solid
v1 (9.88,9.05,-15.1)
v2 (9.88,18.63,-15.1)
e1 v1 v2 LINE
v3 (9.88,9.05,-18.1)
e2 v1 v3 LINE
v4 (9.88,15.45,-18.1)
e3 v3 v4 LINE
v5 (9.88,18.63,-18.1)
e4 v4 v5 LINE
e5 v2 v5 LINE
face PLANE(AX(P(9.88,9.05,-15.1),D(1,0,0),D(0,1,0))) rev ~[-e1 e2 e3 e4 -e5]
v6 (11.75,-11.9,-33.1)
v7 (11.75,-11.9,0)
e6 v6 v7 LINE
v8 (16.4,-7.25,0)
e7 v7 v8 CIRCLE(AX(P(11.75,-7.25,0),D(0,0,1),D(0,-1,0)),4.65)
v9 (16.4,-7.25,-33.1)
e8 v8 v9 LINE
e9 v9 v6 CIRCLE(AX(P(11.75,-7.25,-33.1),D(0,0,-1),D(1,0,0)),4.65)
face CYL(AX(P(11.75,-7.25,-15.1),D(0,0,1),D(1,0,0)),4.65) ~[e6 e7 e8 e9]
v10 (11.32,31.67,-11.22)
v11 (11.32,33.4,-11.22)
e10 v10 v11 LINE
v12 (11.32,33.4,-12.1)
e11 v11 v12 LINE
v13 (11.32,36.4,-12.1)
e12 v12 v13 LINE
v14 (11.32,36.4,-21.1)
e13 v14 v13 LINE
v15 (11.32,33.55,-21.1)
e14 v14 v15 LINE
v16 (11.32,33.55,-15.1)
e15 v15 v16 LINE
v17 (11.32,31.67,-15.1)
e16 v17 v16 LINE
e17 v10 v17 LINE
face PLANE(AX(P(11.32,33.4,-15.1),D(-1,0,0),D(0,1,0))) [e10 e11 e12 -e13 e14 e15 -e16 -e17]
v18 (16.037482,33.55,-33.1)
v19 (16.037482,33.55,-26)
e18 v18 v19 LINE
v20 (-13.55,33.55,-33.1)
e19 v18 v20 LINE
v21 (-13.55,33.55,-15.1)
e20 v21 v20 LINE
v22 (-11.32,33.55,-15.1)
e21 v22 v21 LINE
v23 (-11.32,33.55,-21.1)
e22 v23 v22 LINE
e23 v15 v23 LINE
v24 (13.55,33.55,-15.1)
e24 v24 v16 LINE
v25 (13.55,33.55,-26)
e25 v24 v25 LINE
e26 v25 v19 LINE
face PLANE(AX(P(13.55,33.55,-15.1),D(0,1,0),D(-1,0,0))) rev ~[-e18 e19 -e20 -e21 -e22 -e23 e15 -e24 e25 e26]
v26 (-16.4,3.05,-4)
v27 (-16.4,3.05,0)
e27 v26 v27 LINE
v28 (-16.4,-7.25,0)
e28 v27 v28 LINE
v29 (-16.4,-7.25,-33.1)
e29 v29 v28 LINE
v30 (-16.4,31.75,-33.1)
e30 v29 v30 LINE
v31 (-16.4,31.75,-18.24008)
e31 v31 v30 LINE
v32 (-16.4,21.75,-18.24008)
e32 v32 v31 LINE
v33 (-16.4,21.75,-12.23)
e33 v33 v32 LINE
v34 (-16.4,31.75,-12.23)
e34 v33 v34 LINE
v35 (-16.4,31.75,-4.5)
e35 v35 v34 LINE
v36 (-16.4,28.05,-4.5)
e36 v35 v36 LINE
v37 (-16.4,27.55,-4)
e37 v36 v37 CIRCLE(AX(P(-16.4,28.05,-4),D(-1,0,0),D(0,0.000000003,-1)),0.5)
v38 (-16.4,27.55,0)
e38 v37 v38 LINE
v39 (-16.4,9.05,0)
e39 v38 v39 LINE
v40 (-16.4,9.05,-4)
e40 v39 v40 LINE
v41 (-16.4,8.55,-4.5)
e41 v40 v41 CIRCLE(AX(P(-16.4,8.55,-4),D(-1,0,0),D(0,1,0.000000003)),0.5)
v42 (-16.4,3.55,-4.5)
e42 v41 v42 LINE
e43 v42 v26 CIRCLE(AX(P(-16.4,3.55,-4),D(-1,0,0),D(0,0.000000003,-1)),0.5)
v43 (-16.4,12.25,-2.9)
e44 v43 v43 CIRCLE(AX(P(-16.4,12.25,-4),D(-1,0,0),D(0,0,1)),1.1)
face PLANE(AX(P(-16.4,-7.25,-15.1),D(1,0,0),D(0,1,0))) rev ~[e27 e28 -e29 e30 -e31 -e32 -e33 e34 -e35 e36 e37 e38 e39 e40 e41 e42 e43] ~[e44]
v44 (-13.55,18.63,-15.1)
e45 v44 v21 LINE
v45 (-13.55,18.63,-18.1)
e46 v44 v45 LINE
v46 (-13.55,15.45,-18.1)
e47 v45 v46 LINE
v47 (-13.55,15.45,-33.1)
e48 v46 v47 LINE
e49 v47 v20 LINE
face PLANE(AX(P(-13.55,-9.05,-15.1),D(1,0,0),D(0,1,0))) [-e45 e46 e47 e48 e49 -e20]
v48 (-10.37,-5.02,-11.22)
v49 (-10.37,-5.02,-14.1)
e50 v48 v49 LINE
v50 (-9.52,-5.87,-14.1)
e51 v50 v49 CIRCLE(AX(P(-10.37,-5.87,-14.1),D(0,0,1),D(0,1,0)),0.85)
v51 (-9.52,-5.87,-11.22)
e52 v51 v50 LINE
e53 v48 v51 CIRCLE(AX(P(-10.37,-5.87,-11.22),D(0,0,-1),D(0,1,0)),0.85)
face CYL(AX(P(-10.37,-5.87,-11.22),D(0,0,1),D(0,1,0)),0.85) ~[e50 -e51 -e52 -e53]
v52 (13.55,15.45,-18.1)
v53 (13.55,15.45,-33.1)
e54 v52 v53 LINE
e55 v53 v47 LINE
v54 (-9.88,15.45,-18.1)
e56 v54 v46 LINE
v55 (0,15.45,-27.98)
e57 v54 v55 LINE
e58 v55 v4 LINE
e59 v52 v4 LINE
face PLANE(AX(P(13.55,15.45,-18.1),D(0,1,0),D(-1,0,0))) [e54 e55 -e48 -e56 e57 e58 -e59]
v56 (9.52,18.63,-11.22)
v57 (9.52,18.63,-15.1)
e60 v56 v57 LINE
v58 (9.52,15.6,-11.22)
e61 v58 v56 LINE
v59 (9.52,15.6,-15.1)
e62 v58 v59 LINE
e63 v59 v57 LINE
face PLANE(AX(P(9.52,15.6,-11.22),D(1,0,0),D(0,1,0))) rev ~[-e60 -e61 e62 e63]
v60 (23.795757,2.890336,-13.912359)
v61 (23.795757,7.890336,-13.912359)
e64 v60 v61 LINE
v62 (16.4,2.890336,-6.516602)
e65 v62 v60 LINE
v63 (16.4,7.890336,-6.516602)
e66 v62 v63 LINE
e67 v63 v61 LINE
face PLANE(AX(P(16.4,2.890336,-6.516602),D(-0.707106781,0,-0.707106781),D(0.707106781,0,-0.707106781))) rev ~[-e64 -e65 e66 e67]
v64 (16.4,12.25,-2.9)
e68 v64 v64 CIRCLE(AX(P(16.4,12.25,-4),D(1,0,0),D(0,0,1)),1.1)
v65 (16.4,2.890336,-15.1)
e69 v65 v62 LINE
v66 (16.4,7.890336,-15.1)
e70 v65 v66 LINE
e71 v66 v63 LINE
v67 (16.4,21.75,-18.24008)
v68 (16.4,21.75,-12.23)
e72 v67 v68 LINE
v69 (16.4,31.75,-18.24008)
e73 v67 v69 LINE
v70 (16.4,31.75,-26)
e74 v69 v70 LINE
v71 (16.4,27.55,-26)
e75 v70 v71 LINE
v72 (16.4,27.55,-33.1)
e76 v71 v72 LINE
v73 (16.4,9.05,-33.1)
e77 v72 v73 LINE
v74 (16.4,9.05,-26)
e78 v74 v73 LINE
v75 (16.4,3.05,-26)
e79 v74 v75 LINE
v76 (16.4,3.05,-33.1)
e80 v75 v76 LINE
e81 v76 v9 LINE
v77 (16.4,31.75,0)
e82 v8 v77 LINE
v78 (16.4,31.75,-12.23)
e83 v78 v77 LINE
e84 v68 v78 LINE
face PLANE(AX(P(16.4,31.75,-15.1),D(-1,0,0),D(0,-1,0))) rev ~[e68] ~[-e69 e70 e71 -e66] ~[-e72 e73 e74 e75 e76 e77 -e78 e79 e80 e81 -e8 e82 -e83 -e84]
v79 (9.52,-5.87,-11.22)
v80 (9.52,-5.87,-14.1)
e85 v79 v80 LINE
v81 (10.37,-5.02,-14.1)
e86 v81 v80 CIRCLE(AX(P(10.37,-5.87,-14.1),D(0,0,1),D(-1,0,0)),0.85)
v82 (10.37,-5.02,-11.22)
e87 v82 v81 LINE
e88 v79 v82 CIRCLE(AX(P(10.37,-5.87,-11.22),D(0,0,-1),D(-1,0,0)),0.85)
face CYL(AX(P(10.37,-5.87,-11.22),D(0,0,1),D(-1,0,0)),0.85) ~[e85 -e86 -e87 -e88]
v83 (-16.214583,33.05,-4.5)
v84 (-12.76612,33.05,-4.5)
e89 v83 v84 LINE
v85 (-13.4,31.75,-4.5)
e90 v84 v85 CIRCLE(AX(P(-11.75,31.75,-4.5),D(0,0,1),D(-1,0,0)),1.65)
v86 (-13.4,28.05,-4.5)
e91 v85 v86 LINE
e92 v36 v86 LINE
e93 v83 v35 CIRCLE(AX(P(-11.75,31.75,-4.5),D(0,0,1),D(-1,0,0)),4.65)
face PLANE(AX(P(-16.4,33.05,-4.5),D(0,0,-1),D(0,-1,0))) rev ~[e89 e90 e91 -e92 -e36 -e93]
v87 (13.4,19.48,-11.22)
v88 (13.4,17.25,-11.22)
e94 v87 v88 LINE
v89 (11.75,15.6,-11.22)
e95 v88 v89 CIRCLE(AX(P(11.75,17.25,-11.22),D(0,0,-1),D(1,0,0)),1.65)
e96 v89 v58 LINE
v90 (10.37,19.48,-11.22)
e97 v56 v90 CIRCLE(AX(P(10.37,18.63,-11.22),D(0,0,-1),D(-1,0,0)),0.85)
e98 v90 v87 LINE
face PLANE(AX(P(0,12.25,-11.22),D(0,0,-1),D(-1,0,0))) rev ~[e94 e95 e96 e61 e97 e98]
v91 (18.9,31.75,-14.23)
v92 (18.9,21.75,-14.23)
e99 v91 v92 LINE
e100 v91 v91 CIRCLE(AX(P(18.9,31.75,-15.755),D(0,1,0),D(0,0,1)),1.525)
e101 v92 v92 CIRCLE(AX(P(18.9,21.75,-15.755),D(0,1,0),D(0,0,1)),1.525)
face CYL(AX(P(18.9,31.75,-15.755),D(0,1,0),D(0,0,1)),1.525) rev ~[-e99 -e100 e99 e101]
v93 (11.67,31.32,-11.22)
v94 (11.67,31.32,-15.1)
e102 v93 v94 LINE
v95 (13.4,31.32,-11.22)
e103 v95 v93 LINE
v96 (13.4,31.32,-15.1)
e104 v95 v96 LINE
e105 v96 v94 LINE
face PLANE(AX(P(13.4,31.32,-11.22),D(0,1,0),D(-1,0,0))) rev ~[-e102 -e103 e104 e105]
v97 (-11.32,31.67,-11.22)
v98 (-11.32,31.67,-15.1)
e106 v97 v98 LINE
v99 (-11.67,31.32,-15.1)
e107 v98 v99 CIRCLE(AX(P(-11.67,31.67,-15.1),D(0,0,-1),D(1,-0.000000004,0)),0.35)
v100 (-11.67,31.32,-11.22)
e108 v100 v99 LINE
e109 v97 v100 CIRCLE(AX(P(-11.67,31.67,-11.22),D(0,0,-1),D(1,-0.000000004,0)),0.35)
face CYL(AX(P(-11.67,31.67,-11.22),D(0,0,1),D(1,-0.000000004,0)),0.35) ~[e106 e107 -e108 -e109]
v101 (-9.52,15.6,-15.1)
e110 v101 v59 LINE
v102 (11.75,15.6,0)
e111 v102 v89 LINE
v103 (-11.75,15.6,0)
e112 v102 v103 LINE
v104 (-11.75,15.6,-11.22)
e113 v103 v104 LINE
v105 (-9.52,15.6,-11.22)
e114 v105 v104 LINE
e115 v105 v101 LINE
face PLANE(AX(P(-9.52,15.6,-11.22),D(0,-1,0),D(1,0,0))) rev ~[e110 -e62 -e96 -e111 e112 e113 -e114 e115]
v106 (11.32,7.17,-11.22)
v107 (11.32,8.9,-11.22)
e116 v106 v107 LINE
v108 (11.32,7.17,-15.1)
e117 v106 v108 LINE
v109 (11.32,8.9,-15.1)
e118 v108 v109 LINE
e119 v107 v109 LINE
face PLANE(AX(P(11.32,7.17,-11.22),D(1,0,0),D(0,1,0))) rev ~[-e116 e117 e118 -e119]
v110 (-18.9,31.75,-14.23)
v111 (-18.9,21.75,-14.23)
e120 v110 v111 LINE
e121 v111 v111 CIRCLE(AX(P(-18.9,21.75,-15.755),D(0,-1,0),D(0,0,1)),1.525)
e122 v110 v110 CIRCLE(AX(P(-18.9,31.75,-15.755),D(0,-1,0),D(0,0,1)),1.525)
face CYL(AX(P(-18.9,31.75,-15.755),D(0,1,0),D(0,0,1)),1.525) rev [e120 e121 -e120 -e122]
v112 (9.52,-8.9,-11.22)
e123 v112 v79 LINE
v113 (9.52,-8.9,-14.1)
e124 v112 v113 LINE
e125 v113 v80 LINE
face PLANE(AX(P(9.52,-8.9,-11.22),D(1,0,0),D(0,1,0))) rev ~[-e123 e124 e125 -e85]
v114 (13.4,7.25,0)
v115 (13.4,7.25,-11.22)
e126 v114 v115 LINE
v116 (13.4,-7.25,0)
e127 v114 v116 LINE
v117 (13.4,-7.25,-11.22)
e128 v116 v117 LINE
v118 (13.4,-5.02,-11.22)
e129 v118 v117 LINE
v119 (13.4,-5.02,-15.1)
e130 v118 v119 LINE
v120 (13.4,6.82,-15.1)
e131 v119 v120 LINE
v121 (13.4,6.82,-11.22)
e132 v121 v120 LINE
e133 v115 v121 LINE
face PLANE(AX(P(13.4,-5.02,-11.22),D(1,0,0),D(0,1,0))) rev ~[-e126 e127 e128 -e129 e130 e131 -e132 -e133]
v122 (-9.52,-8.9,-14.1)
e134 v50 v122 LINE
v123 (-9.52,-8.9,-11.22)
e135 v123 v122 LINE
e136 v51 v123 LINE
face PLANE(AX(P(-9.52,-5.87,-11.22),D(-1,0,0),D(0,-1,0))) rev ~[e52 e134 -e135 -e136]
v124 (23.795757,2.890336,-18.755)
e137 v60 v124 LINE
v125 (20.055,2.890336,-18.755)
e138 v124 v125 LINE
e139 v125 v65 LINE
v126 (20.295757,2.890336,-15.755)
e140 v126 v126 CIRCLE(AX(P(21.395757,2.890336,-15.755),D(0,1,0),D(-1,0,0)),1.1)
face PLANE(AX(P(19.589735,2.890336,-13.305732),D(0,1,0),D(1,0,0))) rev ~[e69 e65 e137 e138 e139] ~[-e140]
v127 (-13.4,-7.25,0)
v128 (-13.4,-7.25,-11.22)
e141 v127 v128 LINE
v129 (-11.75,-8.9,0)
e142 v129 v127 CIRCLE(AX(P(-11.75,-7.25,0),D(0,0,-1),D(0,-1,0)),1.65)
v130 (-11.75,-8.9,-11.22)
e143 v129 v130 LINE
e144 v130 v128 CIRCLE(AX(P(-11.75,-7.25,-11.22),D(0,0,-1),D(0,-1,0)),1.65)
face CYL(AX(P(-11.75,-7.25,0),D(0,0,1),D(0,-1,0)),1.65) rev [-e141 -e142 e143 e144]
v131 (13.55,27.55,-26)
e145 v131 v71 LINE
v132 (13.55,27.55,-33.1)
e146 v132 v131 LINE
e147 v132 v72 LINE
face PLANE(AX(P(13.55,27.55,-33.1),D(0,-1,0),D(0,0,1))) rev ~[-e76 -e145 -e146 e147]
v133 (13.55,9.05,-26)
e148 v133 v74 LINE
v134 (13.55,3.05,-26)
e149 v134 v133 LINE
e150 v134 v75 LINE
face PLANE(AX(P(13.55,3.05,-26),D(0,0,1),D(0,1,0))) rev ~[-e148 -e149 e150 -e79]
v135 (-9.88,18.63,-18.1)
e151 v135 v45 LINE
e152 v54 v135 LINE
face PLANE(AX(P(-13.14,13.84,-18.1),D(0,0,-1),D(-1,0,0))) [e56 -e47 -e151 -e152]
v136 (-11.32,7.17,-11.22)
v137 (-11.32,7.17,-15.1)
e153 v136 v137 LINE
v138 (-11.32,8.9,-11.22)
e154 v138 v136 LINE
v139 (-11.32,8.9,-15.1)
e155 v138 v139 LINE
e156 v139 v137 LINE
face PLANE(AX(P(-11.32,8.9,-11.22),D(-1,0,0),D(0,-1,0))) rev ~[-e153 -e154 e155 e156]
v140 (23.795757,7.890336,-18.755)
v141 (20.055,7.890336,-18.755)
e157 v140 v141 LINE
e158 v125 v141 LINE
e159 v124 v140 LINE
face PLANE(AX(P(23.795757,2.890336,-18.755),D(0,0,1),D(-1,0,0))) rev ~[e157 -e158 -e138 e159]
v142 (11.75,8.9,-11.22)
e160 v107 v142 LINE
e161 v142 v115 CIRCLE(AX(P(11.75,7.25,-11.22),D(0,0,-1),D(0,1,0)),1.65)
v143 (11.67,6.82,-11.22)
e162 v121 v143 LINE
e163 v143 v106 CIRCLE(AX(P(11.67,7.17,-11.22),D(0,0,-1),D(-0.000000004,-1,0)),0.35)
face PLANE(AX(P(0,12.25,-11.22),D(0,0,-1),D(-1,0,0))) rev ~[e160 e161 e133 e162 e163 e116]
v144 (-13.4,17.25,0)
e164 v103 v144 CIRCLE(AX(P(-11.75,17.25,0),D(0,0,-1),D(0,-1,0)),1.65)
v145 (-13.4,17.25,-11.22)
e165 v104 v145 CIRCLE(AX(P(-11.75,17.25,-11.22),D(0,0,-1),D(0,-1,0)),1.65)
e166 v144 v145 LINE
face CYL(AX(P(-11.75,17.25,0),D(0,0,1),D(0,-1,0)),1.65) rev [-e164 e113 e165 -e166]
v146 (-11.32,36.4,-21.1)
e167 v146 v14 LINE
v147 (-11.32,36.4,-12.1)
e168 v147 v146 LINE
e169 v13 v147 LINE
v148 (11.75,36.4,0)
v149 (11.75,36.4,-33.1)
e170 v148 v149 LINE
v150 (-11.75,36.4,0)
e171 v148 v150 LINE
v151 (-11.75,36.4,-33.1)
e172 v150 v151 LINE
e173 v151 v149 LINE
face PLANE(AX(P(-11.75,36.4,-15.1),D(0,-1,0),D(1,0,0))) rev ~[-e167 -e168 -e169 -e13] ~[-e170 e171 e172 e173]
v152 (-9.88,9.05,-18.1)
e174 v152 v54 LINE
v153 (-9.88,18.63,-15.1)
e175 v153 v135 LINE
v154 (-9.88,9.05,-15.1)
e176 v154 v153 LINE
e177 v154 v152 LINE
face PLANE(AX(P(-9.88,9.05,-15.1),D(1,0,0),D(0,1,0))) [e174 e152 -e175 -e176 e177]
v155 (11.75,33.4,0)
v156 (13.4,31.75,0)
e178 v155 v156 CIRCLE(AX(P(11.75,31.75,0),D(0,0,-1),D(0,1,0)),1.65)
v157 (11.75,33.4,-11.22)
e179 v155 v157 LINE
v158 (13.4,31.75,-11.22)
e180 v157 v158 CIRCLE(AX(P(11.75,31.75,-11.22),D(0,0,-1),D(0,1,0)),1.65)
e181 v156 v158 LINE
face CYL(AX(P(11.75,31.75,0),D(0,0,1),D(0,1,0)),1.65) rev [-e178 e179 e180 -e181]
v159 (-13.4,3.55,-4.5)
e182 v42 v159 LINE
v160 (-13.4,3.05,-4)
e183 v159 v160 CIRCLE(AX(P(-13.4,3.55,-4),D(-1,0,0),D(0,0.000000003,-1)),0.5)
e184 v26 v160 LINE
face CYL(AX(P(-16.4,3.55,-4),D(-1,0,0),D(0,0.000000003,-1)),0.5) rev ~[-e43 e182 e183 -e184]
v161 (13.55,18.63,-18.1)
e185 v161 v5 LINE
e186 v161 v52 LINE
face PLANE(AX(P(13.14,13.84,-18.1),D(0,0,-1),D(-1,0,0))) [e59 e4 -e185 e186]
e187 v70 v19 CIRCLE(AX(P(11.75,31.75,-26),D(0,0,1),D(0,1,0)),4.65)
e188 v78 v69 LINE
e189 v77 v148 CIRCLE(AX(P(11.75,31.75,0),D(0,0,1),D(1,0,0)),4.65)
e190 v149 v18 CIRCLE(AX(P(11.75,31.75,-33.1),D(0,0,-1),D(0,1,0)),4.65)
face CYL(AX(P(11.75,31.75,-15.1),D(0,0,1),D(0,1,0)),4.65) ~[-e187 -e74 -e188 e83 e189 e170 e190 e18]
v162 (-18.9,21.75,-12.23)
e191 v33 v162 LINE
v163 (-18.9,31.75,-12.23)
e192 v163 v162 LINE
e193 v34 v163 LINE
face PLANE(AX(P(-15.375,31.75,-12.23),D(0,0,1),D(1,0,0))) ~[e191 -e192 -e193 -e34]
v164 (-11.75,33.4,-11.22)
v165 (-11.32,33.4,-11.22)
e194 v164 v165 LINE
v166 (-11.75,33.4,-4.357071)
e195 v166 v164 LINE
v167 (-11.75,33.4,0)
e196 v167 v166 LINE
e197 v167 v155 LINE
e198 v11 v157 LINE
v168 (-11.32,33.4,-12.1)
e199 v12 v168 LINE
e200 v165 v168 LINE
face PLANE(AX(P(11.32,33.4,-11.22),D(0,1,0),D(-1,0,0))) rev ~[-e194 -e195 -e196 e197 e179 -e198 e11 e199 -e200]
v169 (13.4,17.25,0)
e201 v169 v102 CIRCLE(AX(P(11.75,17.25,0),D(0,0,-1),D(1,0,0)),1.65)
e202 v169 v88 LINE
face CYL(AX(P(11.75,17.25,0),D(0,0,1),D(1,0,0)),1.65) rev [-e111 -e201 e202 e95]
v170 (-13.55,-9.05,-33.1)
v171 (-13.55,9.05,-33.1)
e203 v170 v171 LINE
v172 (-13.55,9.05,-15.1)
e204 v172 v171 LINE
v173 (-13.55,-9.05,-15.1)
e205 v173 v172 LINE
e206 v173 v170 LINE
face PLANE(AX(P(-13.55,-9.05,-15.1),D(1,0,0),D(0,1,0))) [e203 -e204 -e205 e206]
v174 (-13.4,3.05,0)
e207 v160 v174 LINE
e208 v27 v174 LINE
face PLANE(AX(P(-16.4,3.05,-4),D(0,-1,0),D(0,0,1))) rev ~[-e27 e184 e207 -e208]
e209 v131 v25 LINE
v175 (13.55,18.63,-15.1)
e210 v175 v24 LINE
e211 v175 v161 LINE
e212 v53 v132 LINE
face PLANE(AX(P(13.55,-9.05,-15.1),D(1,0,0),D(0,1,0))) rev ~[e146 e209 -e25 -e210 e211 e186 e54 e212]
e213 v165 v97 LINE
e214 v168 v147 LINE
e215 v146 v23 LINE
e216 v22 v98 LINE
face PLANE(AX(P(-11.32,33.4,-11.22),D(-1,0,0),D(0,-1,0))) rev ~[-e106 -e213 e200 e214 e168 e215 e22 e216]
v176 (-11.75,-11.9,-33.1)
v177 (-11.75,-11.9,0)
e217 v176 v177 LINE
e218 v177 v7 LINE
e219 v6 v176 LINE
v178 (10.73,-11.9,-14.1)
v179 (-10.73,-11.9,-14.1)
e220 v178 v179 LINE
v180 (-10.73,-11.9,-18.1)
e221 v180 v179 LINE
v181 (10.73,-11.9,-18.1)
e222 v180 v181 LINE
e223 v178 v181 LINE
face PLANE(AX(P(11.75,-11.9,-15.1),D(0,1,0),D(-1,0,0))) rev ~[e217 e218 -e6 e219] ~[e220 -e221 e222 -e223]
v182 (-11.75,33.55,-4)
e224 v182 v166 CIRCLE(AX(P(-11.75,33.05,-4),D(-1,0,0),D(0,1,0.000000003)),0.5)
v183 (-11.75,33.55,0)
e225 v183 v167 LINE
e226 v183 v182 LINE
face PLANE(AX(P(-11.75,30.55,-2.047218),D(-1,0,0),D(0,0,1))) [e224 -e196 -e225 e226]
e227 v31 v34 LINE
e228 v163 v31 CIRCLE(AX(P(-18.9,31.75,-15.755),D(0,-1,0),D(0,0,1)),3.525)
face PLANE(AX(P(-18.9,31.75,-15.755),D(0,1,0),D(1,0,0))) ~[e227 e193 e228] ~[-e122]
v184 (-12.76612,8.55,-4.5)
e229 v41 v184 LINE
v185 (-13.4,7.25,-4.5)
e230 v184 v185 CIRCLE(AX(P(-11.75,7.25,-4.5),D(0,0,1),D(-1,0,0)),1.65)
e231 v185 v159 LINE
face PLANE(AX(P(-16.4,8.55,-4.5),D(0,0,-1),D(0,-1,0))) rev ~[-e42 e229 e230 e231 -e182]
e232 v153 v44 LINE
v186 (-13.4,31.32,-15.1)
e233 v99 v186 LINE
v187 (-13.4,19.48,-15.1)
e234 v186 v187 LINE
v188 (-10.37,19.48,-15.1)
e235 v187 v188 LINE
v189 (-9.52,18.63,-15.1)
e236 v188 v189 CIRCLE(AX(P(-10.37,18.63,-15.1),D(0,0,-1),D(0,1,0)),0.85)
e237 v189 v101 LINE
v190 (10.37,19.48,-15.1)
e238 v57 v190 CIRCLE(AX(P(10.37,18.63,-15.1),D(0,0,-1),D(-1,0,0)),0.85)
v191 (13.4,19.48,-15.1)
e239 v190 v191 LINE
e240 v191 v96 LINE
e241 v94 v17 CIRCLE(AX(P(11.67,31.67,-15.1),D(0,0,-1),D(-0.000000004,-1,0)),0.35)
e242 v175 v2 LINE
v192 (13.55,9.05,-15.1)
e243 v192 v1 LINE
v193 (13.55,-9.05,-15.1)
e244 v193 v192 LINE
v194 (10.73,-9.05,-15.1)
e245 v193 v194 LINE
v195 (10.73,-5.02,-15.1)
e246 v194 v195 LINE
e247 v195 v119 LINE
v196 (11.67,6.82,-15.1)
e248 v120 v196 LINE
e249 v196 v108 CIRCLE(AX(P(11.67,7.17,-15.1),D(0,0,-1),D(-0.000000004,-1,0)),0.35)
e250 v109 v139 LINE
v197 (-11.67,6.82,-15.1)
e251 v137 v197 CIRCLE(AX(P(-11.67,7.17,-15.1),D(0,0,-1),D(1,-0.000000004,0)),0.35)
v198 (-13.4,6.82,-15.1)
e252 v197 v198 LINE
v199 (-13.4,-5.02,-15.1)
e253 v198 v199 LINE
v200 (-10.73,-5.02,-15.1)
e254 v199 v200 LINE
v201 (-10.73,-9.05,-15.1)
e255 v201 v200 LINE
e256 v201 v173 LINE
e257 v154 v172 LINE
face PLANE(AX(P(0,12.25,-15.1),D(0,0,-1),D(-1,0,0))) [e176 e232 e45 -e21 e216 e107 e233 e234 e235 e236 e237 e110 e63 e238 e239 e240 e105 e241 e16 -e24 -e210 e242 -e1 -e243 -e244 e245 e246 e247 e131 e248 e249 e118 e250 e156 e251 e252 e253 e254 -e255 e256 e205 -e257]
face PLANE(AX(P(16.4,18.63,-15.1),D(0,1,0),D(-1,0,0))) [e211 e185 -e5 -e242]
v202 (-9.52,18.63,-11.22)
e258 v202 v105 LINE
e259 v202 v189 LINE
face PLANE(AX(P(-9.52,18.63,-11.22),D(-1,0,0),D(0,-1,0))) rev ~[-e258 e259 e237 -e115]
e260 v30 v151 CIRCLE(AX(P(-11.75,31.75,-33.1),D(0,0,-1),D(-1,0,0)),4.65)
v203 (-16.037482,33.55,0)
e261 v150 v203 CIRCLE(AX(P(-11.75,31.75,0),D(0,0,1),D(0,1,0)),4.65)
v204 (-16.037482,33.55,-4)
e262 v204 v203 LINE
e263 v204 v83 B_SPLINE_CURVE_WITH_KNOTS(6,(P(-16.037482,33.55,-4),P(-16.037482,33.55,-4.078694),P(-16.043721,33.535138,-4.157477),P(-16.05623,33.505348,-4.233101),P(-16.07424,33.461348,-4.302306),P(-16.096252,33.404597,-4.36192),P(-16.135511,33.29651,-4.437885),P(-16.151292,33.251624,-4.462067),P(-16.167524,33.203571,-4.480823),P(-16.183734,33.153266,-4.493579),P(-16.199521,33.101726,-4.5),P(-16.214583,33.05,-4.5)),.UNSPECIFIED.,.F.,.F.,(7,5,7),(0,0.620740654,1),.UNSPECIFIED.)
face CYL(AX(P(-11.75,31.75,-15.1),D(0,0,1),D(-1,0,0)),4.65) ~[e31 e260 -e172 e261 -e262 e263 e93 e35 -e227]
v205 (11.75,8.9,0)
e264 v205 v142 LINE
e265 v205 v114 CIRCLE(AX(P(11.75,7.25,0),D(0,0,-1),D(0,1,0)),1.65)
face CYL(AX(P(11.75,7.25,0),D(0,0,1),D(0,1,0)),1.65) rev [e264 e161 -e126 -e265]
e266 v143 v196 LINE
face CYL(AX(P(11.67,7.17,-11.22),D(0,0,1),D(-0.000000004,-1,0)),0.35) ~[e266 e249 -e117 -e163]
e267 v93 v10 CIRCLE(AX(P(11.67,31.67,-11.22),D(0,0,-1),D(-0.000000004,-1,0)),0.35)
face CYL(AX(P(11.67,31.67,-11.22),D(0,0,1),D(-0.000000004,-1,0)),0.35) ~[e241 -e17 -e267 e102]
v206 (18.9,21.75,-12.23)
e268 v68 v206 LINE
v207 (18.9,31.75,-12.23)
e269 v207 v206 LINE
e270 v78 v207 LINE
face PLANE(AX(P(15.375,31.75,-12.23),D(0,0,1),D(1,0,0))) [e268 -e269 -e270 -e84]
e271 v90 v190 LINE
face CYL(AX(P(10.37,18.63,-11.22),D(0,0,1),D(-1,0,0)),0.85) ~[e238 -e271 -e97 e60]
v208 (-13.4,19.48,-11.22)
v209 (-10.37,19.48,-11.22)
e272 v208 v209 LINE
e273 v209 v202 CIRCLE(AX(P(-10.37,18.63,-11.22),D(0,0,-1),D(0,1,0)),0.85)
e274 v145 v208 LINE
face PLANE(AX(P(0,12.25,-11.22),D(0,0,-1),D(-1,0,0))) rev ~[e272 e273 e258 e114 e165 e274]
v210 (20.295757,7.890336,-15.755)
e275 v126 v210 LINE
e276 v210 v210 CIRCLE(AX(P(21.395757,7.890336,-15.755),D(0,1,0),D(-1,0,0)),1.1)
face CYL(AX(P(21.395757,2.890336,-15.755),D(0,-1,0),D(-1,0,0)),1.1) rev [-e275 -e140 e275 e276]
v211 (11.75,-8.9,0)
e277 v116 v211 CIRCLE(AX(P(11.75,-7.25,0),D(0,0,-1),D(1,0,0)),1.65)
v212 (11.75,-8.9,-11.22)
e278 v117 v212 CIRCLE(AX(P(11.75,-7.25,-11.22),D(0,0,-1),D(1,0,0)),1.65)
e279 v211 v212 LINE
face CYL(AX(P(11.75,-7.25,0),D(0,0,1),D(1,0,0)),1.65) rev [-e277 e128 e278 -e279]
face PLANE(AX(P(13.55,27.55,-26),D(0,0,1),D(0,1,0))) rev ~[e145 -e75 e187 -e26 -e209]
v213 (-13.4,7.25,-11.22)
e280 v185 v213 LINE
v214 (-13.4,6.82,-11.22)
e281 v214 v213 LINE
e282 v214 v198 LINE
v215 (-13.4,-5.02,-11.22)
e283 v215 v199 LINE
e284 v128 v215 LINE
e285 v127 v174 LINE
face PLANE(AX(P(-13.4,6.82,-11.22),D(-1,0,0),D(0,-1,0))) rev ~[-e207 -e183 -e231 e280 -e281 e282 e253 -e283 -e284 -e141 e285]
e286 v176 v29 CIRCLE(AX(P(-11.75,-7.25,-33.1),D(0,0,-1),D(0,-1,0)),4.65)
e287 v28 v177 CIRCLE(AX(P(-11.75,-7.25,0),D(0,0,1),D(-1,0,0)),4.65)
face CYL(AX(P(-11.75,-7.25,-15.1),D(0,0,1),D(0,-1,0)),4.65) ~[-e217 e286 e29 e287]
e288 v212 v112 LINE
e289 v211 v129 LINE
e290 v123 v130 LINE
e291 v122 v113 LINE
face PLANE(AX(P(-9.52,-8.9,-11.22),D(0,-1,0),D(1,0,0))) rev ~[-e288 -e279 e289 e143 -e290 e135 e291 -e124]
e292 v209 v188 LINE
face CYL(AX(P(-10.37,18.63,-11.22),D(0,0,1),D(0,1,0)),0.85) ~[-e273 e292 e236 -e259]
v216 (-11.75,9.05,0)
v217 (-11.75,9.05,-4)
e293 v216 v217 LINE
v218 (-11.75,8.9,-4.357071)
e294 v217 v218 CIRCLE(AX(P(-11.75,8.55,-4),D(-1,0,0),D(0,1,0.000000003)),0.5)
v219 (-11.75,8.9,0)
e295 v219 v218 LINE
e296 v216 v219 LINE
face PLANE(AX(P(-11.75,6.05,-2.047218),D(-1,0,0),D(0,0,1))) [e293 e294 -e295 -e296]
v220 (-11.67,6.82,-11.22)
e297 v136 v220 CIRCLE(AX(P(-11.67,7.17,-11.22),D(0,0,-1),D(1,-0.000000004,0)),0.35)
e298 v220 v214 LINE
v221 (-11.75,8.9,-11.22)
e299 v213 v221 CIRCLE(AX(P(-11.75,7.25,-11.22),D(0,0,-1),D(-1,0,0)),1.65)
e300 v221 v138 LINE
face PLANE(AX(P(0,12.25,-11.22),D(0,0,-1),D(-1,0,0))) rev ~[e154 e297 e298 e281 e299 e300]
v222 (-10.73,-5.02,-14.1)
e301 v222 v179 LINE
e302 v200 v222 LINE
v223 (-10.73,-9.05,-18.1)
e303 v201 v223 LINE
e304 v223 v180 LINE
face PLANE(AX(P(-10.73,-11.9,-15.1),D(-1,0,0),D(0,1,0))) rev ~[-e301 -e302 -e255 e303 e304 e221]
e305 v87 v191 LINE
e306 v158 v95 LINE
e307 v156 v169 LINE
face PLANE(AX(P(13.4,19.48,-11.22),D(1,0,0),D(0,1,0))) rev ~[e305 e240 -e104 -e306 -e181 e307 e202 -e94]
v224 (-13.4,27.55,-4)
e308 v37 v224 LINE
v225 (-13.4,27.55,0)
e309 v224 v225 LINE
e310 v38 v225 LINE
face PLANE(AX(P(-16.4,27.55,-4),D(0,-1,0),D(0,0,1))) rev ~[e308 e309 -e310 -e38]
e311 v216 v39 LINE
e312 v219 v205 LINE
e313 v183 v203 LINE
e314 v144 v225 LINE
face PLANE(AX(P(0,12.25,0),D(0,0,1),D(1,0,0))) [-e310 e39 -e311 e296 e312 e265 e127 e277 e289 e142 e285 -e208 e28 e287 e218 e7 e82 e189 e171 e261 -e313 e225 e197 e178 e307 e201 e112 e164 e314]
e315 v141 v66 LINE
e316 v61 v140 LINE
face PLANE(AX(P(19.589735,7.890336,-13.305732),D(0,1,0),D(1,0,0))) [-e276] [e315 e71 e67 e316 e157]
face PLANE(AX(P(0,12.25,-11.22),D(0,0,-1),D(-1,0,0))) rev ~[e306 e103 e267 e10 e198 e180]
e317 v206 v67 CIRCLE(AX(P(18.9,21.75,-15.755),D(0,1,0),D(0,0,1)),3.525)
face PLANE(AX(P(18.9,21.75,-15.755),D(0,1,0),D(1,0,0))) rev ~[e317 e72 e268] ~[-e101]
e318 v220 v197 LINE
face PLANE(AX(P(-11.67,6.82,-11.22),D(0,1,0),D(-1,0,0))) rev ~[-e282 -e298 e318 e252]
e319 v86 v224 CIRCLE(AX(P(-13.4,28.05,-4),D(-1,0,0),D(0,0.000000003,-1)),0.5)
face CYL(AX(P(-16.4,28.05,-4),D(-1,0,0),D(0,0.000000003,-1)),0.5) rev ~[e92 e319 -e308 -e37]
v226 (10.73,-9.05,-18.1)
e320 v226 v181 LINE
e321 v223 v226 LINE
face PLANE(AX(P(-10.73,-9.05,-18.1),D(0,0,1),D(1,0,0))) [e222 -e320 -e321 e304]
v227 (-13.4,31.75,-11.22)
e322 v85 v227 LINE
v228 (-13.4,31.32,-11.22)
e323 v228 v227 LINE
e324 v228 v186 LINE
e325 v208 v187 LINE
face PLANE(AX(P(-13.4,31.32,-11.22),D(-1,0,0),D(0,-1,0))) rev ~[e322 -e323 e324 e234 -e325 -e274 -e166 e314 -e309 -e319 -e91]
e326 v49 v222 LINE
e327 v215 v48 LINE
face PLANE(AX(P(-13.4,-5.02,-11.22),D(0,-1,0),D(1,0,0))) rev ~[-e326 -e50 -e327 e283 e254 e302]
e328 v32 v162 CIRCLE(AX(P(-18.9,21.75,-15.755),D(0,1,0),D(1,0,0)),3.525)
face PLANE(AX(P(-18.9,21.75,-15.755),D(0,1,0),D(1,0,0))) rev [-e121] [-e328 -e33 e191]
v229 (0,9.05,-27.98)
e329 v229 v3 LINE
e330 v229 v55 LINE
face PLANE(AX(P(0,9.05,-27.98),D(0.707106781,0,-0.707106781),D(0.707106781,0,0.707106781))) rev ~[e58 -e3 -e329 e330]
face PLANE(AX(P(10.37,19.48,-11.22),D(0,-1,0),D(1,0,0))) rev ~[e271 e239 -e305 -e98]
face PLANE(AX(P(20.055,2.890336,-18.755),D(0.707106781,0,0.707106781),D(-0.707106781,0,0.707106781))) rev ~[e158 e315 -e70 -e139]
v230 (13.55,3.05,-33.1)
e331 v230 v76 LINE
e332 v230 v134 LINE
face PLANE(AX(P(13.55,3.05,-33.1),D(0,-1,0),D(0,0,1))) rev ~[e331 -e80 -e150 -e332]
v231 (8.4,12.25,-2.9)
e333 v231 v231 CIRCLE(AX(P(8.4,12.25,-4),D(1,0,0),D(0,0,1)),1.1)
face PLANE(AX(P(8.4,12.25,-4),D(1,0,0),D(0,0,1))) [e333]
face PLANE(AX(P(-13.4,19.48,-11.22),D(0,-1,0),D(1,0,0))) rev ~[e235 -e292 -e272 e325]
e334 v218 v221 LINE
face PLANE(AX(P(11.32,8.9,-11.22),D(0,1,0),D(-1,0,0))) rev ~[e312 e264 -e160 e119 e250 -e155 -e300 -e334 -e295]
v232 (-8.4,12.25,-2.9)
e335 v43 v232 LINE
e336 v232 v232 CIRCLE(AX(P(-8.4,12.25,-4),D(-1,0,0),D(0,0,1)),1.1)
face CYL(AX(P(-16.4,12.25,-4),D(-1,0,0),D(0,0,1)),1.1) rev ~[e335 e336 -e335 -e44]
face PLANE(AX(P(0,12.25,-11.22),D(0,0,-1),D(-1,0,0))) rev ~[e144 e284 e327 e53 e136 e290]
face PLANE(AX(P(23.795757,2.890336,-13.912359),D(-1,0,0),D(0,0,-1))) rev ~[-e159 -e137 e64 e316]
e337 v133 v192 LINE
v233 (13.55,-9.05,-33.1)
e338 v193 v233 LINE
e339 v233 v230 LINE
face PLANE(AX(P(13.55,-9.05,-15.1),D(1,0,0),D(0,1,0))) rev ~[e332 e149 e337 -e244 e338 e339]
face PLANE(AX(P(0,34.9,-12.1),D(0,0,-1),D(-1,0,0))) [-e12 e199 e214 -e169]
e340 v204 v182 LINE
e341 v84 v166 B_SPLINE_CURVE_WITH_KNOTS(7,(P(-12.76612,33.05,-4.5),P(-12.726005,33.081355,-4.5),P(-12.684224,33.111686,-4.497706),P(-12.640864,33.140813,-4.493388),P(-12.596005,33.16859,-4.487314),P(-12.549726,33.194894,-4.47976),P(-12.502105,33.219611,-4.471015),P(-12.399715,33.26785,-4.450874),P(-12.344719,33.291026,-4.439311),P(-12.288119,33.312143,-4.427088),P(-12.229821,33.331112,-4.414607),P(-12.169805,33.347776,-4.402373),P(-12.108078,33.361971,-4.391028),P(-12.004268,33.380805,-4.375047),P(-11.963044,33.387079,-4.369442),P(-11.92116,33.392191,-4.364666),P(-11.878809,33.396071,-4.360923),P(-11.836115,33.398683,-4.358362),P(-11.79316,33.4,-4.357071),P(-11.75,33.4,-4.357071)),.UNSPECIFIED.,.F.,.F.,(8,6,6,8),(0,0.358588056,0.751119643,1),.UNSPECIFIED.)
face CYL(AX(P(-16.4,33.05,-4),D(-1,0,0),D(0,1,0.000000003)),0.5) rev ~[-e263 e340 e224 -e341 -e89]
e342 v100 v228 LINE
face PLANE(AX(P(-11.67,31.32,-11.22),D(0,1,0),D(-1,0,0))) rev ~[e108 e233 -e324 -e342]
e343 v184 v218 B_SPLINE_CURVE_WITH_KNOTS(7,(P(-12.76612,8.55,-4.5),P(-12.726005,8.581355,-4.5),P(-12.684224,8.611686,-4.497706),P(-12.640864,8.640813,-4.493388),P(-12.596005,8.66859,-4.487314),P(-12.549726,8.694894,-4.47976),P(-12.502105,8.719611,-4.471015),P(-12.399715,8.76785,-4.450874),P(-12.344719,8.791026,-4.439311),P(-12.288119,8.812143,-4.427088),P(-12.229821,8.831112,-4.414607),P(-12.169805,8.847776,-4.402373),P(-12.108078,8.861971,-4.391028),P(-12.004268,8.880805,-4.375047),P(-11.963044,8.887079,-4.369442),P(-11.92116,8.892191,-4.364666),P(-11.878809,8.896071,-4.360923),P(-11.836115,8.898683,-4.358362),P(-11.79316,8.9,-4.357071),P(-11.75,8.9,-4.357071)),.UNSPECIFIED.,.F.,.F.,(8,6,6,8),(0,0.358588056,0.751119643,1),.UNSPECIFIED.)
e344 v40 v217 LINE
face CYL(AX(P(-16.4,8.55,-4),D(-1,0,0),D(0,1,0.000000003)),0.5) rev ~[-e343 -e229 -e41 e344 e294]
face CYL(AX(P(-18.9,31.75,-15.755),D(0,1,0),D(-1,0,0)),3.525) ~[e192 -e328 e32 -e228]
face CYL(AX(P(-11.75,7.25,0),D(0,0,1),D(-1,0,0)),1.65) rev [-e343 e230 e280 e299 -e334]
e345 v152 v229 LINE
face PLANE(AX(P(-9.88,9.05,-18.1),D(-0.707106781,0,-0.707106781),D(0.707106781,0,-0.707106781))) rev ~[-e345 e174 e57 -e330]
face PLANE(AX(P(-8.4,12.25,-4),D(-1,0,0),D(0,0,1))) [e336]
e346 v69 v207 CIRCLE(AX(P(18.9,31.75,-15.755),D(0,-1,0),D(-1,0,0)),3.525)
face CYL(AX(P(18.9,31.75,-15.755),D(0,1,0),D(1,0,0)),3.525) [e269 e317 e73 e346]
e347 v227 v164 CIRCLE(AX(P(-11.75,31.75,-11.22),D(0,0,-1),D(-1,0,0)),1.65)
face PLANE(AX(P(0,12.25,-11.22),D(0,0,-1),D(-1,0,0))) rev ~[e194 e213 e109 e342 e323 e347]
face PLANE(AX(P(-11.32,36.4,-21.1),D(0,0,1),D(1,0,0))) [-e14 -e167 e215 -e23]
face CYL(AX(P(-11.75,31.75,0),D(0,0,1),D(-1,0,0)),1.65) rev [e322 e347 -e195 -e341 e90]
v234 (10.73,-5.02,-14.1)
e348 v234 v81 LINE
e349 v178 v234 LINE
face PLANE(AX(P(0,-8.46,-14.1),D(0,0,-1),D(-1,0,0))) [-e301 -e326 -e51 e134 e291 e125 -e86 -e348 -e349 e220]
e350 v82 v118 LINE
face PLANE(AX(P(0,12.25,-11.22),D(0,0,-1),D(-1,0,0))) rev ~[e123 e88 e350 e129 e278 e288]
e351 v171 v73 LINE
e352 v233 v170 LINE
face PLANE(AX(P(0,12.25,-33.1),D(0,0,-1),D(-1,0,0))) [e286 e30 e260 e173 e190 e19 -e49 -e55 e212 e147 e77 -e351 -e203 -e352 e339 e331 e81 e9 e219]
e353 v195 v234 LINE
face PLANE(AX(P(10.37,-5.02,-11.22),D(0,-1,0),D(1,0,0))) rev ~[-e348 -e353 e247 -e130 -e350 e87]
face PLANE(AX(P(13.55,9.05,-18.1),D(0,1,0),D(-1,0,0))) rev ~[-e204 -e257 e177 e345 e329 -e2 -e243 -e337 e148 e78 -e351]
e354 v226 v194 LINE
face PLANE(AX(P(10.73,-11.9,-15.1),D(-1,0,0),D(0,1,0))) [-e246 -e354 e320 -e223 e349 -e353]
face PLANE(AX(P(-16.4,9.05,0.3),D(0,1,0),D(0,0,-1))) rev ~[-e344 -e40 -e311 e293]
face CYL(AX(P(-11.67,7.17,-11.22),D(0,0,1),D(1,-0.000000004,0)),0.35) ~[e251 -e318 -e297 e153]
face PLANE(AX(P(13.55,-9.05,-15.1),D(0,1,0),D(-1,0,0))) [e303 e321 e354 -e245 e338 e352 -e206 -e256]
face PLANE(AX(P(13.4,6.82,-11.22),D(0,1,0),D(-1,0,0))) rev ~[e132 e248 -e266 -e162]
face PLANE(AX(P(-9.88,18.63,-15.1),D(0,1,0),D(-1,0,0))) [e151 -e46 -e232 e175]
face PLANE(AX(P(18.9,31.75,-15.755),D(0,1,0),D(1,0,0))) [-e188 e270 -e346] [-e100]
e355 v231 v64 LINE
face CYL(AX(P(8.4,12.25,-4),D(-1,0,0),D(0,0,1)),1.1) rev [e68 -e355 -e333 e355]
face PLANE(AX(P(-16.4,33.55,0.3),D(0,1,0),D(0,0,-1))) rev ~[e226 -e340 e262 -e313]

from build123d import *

# Parameters (mm, degrees)
EXTRUDE_2_DEPTH      = 11.22
EXTRUDE_3_DEPTH      = 3.88
CUT_EXTRUDE_1_DEPTH  = 4.65
SKETCH_8_R           = 3.525
SKETCH_8_R_2         = 1.525
EXTRUDE_5_DEPTH      = 10
SKETCH_9_W           = 22.64
SKETCH_9_H           = 3
CUT_EXTRUDE_3_DEPTH  = 3
SKETCH_10_W          = 21.46
SKETCH_10_H          = 6.88
CUT_EXTRUDE_4_DEPTH  = 1
SKETCH_11_R          = 1.1
EXTRUDE_6_DEPTH      = 5
SKETCH_12_R          = 1.1
CUT_EXTRUDE_5_DEPTH  = 8
CUT_EXTRUDE_START    = -8
SKETCH_13_R          = 1.1
CUT_EXTRUDE_6_DEPTH  = 8
SKETCH_14_W          = 6.52
SKETCH_14_H          = 9.58
EXTRUDE_7_DEPTH      = 3
SKETCH_15_W          = 27.1
SKETCH_15_H          = 42.6
EXTRUDE_8_DEPTH      = 18
SKETCH_16_W          = 27.1
SKETCH_16_H          = 6.4
EXTRUDE_9_DEPTH      = 15
CUT_EXTRUDE_8_REACH  = 51.09
CUT_EXTRUDE_9_REACH  = 62.949
SKETCH_18_W          = 7.1
SKETCH_18_H          = 6
CUT_EXTRUDE_START_2  = -2.85
SKETCH_19_W          = 21.46
SKETCH_19_H          = 1
SKETCH_19_H_2        = 3
CUT_EXTRUDE_10_DEPTH = 2.85
CUT_EXTRUDE_11_REACH = 65.204
SKETCH_20_W          = 22.64
SKETCH_20_H          = 6


with BuildPart() as part:
    # 草图2 → 凸台-拉伸2 (new body)
    with BuildSketch(Plane.XY):
        with BuildLine():
            ThreePointArc((-16.4, -7.25), (-15.038046533, -10.538046533), (-11.75, -11.9))
            Line((-11.75, -11.9), (11.75, -11.9))
            ThreePointArc((11.75, -11.9), (15.038046533, -10.538046533), (16.4, -7.25))
            Line((16.4, -7.25), (16.4, 31.75))
            ThreePointArc((16.4, 31.75), (15.038046533, 35.038046533), (11.75, 36.4))
            Line((11.75, 36.4), (-11.75, 36.4))
            ThreePointArc((-11.75, 36.4), (-15.038046533, 35.038046533), (-16.4, 31.75))
            Line((-16.4, 31.75), (-16.4, -7.25))
        make_face()
        with BuildLine():
            Line((13.4, 7.25), (13.4, -7.25))
            ThreePointArc((13.4, -7.25), (12.916726189, -8.416726189), (11.75, -8.9))
            Line((11.75, -8.9), (-11.75, -8.9))
            ThreePointArc((-11.75, -8.9), (-12.916726189, -8.416726189), (-13.4, -7.25))
            Line((-13.4, -7.25), (-13.4, 7.25))
            ThreePointArc((-13.4, 7.25), (-12.916726189, 8.416726189), (-11.75, 8.9))
            Line((-11.75, 8.9), (11.75, 8.9))
            ThreePointArc((11.75, 8.9), (12.916726189, 8.416726189), (13.4, 7.25))
        make_face(mode=Mode.SUBTRACT)
        with BuildLine():
            Line((-11.75, 33.4), (11.75, 33.4))
            ThreePointArc((11.75, 33.4), (12.916726189, 32.916726189), (13.4, 31.75))
            Line((13.4, 31.75), (13.4, 17.25))
            ThreePointArc((13.4, 17.25), (12.916726189, 16.083273811), (11.75, 15.6))
            Line((11.75, 15.6), (-11.75, 15.6))
            ThreePointArc((-11.75, 15.6), (-12.916726189, 16.083273811), (-13.4, 17.25))
            Line((-13.4, 17.25), (-13.4, 31.75))
            ThreePointArc((-13.4, 31.75), (-12.916726189, 32.916726189), (-11.75, 33.4))
        make_face(mode=Mode.SUBTRACT)
    extrude(amount=-EXTRUDE_2_DEPTH)

    # 草图3 → 凸台-拉伸3 (add)
    with BuildSketch(Plane(origin=(0, 0, -11.22), x_dir=(-1, 0, 0), z_dir=(0, 0, -1))):
        with BuildLine():
            ThreePointArc((11.75, -11.9), (15.038046533, -10.538046533), (16.4, -7.25))
            Line((16.4, -7.25), (16.4, 31.75))
            ThreePointArc((16.4, 31.75), (15.038046533, 35.038046533), (11.75, 36.4))
            Line((11.75, 36.4), (-11.75, 36.4))
            ThreePointArc((-11.75, 36.4), (-15.038046533, 35.038046533), (-16.4, 31.75))
            Line((-16.4, 31.75), (-16.4, -7.25))
            ThreePointArc((-16.4, -7.25), (-15.038046533, -10.538046533), (-11.75, -11.9))
            Line((-11.75, -11.9), (11.75, -11.9))
        make_face()
        with BuildLine():
            Line((13.4, -5.02), (10.37, -5.02))
            ThreePointArc((10.37, -5.02), (9.768959236, -5.268959236), (9.52, -5.87))
            Line((9.52, -5.87), (9.52, -8.9))
            Line((9.52, -8.9), (-9.52, -8.9))
            Line((-9.52, -8.9), (-9.52, -5.87))
            ThreePointArc((-9.52, -5.87), (-9.768959236, -5.268959236), (-10.37, -5.02))
            Line((-10.37, -5.02), (-13.4, -5.02))
            Line((-13.4, -5.02), (-13.4, 6.82))
            Line((-13.4, 6.82), (-11.67, 6.82))
            ThreePointArc((-11.67, 6.82), (-11.422512627, 6.922512627), (-11.32, 7.17))
            Line((-11.32, 7.17), (-11.32, 8.9))
            Line((-11.32, 8.9), (11.32, 8.9))
            Line((11.32, 8.9), (11.32, 7.17))
            ThreePointArc((11.32, 7.17), (11.422512627, 6.922512627), (11.67, 6.82))
            Line((11.67, 6.82), (13.4, 6.82))
            Line((13.4, 6.82), (13.4, -5.02))
        make_face(mode=Mode.SUBTRACT)
        with BuildLine():
            Line((13.4, 31.32), (13.4, 19.48))
            Line((13.4, 19.48), (10.37, 19.48))
            ThreePointArc((10.37, 19.48), (9.768959236, 19.231040764), (9.52, 18.63))
            Line((9.52, 18.63), (9.52, 15.6))
            Line((9.52, 15.6), (-9.52, 15.6))
            Line((-9.52, 15.6), (-9.52, 18.63))
            ThreePointArc((-9.52, 18.63), (-9.768959236, 19.231040764), (-10.37, 19.48))
            Line((-10.37, 19.48), (-13.4, 19.48))
            Line((-13.4, 19.48), (-13.4, 31.32))
            Line((-13.4, 31.32), (-11.67, 31.32))
            ThreePointArc((-11.67, 31.32), (-11.422512627, 31.422512627), (-11.32, 31.67))
            Line((-11.32, 31.67), (-11.32, 33.4))
            Line((-11.32, 33.4), (11.32, 33.4))
            Line((11.32, 33.4), (11.32, 31.67))
            ThreePointArc((11.32, 31.67), (11.422512627, 31.422512627), (11.67, 31.32))
            Line((11.67, 31.32), (13.4, 31.32))
        make_face(mode=Mode.SUBTRACT)
    extrude(amount=EXTRUDE_3_DEPTH)

    # 草图4 → 切除-拉伸1 (cut)
    with BuildSketch(Plane.ZY.offset(16.4)):
        with BuildLine():
            Line((0.3, 9.05), (-4, 9.05))
            ThreePointArc((-4, 9.05), (-4.353553391, 8.903553391), (-4.5, 8.55))
            Line((-4.5, 8.55), (-4.5, 3.55))
            ThreePointArc((-4.5, 3.55), (-4.353553391, 3.196446609), (-4, 3.05))
            Line((-4, 3.05), (0.3, 3.05))
            Line((0.3, 3.05), (0.3, 9.05))
        make_face()
        with BuildLine():
            Line((0.3, 33.55), (-4, 33.55))
            ThreePointArc((-4, 33.55), (-4.353553391, 33.403553391), (-4.5, 33.05))
            Line((-4.5, 33.05), (-4.5, 28.05))
            ThreePointArc((-4.5, 28.05), (-4.353553391, 27.696446609), (-4, 27.55))
            Line((-4, 27.55), (0.3, 27.55))
            Line((0.3, 27.55), (0.3, 33.55))
        make_face()
    extrude(amount=-CUT_EXTRUDE_1_DEPTH, mode=Mode.SUBTRACT)

    # 草图8 → 凸台-拉伸5 (add)
    # profile 1 of 2: a face of its own
    with BuildSketch(Plane(origin=(0, 31.75, 0), x_dir=(1, 0, 0), z_dir=(0, 1, 0))):
        with Locations((18.9, 15.755)):
            Circle(SKETCH_8_R)
        with Locations(Location((18.9, 15.755, 0), (0, 0, 270))):
            Circle(SKETCH_8_R_2, mode=Mode.SUBTRACT)
    # profile 2 of 2: a face of its own
    with BuildSketch(Plane(origin=(0, 31.75, 0), x_dir=(1, 0, 0), z_dir=(0, 1, 0))):
        with BuildLine():
            Line((15.375, 12.23), (18.9, 12.23))
            ThreePointArc((18.9, 12.23), (16.407448596, 13.262448596), (15.375, 15.755))
            Line((15.375, 15.755), (15.375, 12.23))
        make_face()
    extrude_5 = extrude(amount=-EXTRUDE_5_DEPTH)

    # 镜向1: 凸台-拉伸5 across plane
    add(extrude_5.mirror(Plane(origin=(0, 0, 0), x_dir=(0, 0, 1), z_dir=(1, 0, 0))))

    # 草图9 → 切除-拉伸3 (cut)
    with BuildSketch(Plane(origin=(0, 0, -15.1), x_dir=(-1, 0, 0), z_dir=(0, 0, -1))):
        with Locations((0, 34.9)):
            Rectangle(SKETCH_9_W, SKETCH_9_H)
    extrude(amount=-CUT_EXTRUDE_3_DEPTH, mode=Mode.SUBTRACT)

    # 草图10 → 切除-拉伸4 (cut)
    with BuildSketch(Plane(origin=(0, 0, -15.1), x_dir=(-1, 0, 0), z_dir=(0, 0, -1))):
        with Locations((0, -8.46)):
            Rectangle(SKETCH_10_W, SKETCH_10_H)
    extrude(amount=-CUT_EXTRUDE_4_DEPTH, mode=Mode.SUBTRACT)

    # 草图11 → 凸台-拉伸6 (add)
    with BuildSketch(Plane(origin=(0, 2.890336251, 0), x_dir=(1, 0, 0), z_dir=(0, 1, 0))):
        Polygon((23.795757056, 13.912359313), (23.795757056, 18.755), (20.055, 18.755), (16.4, 15.1), (16.4, 6.516602257), align=None)
        with Locations(Location((21.395757056, 15.755, 0), (0, 0, 180))):
            Circle(SKETCH_11_R, mode=Mode.SUBTRACT)
    extrude(amount=EXTRUDE_6_DEPTH)

    # 草图12 → 切除-拉伸5 (cut)
    with BuildSketch(Plane.ZY.offset(16.4)):
        with Locations((-4, 12.25)):
            Circle(SKETCH_12_R)
    extrude(amount=-CUT_EXTRUDE_5_DEPTH, mode=Mode.SUBTRACT)

    # 草图13 → 切除-拉伸6 (cut)
    with BuildSketch(Plane(origin=(16.4, 0, 0), x_dir=(0, 0, -1), z_dir=(1, 0, 0)).offset(CUT_EXTRUDE_START)):
        with Locations(Location((4, 12.25, 0), (0, 0, 180))):
            Circle(SKETCH_13_R)
    extrude(amount=CUT_EXTRUDE_6_DEPTH, mode=Mode.SUBTRACT)

    # 草图14 → 凸台-拉伸7 (add)
    with BuildSketch(Plane(origin=(0, 0, -15.1), x_dir=(-1, 0, 0), z_dir=(0, 0, -1))):
        with Locations((-13.14, 13.84)):
            Rectangle(SKETCH_14_W, SKETCH_14_H)
        with Locations((13.14, 13.84)):
            Rectangle(SKETCH_14_W, SKETCH_14_H)
    extrude(amount=EXTRUDE_7_DEPTH)

    # 草图15 → 凸台-拉伸8 (add)
    with BuildSketch(Plane(origin=(0, 0, -15.1), x_dir=(-1, 0, 0), z_dir=(0, 0, -1))):
        with BuildLine():
            Line((16.4, 9.05), (16.4, 18.63))
            Line((16.4, 18.63), (16.4, 31.75))
            ThreePointArc((16.4, 31.75), (15.038046533, 35.038046533), (11.75, 36.4))
            Line((11.75, 36.4), (-11.75, 36.4))
            ThreePointArc((-11.75, 36.4), (-15.038046533, 35.038046533), (-16.4, 31.75))
            Line((-16.4, 31.75), (-16.4, 21.75))
            Line((-16.4, 21.75), (-16.4, 18.63))
            Line((-16.4, 18.63), (-16.4, 9.05))
            Line((-16.4, 9.05), (-16.4, 2.890336251))
            Line((-16.4, 2.890336251), (-16.4, -7.25))
            ThreePointArc((-16.4, -7.25), (-15.038046533, -10.538046533), (-11.75, -11.9))
            Line((-11.75, -11.9), (11.75, -11.9))
            ThreePointArc((11.75, -11.9), (15.038046533, -10.538046533), (16.4, -7.25))
            Line((16.4, -7.25), (16.4, 9.05))
        make_face()
        with Locations((0, 12.25)):
            Rectangle(SKETCH_15_W, SKETCH_15_H, mode=Mode.SUBTRACT)
    extrude(amount=EXTRUDE_8_DEPTH)

    # 草图16 → 凸台-拉伸9 (add)
    with BuildSketch(Plane(origin=(0, 0, -18.1), x_dir=(-1, 0, 0), z_dir=(0, 0, -1))):
        with Locations((0, 12.25)):
            Rectangle(SKETCH_16_W, SKETCH_16_H)
    extrude(amount=EXTRUDE_9_DEPTH)

    # 草图17 → 切除-拉伸8 (cut, up to next)
    with BuildSketch(Plane.XZ.offset(-9.05), mode=Mode.PRIVATE) as cut_extrude_8_sk1:
        Polygon((-9.88, -18.1), (0, -27.98), (9.88, -18.1), align=None)
    cut_extrude_8_tool1 = extrude(cut_extrude_8_sk1.sketch, amount=-CUT_EXTRUDE_8_REACH, mode=Mode.PRIVATE) & part.part
    add(cut_extrude_8_tool1.solids().sort_by_distance((0, 9.05, -21.393333))[0], mode=Mode.SUBTRACT)

    # 草图18 → 切除-拉伸9 (cut, up to next)
    with BuildSketch(Plane.ZY.offset(-13.55), mode=Mode.PRIVATE) as cut_extrude_9_sk1:
        with Locations((-29.55, 6.05)):
            Rectangle(SKETCH_18_W, SKETCH_18_H)
    cut_extrude_9_tool1 = extrude(cut_extrude_9_sk1.sketch, amount=-CUT_EXTRUDE_9_REACH, mode=Mode.PRIVATE) & part.part
    # 草图18 → 切除-拉伸9 (cut, up to next)
    with BuildSketch(Plane.ZY.offset(-13.55), mode=Mode.PRIVATE) as cut_extrude_9_sk2:
        with Locations((-29.55, 30.55)):
            Rectangle(SKETCH_18_W, SKETCH_18_H)
    cut_extrude_9_tool2 = extrude(cut_extrude_9_sk2.sketch, amount=-CUT_EXTRUDE_9_REACH, mode=Mode.PRIVATE) & part.part
    add(cut_extrude_9_tool1.solids().sort_by_distance((13.55, 6.05, -29.55))[0], mode=Mode.SUBTRACT)
    add(cut_extrude_9_tool2.solids().sort_by_distance((13.55, 30.55, -29.55))[0], mode=Mode.SUBTRACT)

    # 草图19 → 切除-拉伸10 (cut)
    with BuildSketch(Plane.XZ.offset(11.9).offset(CUT_EXTRUDE_START_2)):
        with Locations((0, -14.6)):
            Rectangle(SKETCH_19_W, SKETCH_19_H)
        with Locations((0, -16.6)):
            Rectangle(SKETCH_19_W, SKETCH_19_H_2)
    extrude(amount=CUT_EXTRUDE_10_DEPTH, mode=Mode.SUBTRACT)

    # 草图20 → 切除-拉伸11 (cut, up to next)
    with BuildSketch(Plane(origin=(0, 36.4, 0), x_dir=(1, 0, 0), z_dir=(0, 1, 0)), mode=Mode.PRIVATE) as cut_extrude_11_sk1:
        with Locations((0, 18.1)):
            Rectangle(SKETCH_20_W, SKETCH_20_H)
    cut_extrude_11_tool1 = extrude(cut_extrude_11_sk1.sketch, amount=-CUT_EXTRUDE_11_REACH, mode=Mode.PRIVATE) & part.part
    add(cut_extrude_11_tool1.solids().sort_by_distance((0, 36.4, -18.1))[0], mode=Mode.SUBTRACT)


solid = part.part
